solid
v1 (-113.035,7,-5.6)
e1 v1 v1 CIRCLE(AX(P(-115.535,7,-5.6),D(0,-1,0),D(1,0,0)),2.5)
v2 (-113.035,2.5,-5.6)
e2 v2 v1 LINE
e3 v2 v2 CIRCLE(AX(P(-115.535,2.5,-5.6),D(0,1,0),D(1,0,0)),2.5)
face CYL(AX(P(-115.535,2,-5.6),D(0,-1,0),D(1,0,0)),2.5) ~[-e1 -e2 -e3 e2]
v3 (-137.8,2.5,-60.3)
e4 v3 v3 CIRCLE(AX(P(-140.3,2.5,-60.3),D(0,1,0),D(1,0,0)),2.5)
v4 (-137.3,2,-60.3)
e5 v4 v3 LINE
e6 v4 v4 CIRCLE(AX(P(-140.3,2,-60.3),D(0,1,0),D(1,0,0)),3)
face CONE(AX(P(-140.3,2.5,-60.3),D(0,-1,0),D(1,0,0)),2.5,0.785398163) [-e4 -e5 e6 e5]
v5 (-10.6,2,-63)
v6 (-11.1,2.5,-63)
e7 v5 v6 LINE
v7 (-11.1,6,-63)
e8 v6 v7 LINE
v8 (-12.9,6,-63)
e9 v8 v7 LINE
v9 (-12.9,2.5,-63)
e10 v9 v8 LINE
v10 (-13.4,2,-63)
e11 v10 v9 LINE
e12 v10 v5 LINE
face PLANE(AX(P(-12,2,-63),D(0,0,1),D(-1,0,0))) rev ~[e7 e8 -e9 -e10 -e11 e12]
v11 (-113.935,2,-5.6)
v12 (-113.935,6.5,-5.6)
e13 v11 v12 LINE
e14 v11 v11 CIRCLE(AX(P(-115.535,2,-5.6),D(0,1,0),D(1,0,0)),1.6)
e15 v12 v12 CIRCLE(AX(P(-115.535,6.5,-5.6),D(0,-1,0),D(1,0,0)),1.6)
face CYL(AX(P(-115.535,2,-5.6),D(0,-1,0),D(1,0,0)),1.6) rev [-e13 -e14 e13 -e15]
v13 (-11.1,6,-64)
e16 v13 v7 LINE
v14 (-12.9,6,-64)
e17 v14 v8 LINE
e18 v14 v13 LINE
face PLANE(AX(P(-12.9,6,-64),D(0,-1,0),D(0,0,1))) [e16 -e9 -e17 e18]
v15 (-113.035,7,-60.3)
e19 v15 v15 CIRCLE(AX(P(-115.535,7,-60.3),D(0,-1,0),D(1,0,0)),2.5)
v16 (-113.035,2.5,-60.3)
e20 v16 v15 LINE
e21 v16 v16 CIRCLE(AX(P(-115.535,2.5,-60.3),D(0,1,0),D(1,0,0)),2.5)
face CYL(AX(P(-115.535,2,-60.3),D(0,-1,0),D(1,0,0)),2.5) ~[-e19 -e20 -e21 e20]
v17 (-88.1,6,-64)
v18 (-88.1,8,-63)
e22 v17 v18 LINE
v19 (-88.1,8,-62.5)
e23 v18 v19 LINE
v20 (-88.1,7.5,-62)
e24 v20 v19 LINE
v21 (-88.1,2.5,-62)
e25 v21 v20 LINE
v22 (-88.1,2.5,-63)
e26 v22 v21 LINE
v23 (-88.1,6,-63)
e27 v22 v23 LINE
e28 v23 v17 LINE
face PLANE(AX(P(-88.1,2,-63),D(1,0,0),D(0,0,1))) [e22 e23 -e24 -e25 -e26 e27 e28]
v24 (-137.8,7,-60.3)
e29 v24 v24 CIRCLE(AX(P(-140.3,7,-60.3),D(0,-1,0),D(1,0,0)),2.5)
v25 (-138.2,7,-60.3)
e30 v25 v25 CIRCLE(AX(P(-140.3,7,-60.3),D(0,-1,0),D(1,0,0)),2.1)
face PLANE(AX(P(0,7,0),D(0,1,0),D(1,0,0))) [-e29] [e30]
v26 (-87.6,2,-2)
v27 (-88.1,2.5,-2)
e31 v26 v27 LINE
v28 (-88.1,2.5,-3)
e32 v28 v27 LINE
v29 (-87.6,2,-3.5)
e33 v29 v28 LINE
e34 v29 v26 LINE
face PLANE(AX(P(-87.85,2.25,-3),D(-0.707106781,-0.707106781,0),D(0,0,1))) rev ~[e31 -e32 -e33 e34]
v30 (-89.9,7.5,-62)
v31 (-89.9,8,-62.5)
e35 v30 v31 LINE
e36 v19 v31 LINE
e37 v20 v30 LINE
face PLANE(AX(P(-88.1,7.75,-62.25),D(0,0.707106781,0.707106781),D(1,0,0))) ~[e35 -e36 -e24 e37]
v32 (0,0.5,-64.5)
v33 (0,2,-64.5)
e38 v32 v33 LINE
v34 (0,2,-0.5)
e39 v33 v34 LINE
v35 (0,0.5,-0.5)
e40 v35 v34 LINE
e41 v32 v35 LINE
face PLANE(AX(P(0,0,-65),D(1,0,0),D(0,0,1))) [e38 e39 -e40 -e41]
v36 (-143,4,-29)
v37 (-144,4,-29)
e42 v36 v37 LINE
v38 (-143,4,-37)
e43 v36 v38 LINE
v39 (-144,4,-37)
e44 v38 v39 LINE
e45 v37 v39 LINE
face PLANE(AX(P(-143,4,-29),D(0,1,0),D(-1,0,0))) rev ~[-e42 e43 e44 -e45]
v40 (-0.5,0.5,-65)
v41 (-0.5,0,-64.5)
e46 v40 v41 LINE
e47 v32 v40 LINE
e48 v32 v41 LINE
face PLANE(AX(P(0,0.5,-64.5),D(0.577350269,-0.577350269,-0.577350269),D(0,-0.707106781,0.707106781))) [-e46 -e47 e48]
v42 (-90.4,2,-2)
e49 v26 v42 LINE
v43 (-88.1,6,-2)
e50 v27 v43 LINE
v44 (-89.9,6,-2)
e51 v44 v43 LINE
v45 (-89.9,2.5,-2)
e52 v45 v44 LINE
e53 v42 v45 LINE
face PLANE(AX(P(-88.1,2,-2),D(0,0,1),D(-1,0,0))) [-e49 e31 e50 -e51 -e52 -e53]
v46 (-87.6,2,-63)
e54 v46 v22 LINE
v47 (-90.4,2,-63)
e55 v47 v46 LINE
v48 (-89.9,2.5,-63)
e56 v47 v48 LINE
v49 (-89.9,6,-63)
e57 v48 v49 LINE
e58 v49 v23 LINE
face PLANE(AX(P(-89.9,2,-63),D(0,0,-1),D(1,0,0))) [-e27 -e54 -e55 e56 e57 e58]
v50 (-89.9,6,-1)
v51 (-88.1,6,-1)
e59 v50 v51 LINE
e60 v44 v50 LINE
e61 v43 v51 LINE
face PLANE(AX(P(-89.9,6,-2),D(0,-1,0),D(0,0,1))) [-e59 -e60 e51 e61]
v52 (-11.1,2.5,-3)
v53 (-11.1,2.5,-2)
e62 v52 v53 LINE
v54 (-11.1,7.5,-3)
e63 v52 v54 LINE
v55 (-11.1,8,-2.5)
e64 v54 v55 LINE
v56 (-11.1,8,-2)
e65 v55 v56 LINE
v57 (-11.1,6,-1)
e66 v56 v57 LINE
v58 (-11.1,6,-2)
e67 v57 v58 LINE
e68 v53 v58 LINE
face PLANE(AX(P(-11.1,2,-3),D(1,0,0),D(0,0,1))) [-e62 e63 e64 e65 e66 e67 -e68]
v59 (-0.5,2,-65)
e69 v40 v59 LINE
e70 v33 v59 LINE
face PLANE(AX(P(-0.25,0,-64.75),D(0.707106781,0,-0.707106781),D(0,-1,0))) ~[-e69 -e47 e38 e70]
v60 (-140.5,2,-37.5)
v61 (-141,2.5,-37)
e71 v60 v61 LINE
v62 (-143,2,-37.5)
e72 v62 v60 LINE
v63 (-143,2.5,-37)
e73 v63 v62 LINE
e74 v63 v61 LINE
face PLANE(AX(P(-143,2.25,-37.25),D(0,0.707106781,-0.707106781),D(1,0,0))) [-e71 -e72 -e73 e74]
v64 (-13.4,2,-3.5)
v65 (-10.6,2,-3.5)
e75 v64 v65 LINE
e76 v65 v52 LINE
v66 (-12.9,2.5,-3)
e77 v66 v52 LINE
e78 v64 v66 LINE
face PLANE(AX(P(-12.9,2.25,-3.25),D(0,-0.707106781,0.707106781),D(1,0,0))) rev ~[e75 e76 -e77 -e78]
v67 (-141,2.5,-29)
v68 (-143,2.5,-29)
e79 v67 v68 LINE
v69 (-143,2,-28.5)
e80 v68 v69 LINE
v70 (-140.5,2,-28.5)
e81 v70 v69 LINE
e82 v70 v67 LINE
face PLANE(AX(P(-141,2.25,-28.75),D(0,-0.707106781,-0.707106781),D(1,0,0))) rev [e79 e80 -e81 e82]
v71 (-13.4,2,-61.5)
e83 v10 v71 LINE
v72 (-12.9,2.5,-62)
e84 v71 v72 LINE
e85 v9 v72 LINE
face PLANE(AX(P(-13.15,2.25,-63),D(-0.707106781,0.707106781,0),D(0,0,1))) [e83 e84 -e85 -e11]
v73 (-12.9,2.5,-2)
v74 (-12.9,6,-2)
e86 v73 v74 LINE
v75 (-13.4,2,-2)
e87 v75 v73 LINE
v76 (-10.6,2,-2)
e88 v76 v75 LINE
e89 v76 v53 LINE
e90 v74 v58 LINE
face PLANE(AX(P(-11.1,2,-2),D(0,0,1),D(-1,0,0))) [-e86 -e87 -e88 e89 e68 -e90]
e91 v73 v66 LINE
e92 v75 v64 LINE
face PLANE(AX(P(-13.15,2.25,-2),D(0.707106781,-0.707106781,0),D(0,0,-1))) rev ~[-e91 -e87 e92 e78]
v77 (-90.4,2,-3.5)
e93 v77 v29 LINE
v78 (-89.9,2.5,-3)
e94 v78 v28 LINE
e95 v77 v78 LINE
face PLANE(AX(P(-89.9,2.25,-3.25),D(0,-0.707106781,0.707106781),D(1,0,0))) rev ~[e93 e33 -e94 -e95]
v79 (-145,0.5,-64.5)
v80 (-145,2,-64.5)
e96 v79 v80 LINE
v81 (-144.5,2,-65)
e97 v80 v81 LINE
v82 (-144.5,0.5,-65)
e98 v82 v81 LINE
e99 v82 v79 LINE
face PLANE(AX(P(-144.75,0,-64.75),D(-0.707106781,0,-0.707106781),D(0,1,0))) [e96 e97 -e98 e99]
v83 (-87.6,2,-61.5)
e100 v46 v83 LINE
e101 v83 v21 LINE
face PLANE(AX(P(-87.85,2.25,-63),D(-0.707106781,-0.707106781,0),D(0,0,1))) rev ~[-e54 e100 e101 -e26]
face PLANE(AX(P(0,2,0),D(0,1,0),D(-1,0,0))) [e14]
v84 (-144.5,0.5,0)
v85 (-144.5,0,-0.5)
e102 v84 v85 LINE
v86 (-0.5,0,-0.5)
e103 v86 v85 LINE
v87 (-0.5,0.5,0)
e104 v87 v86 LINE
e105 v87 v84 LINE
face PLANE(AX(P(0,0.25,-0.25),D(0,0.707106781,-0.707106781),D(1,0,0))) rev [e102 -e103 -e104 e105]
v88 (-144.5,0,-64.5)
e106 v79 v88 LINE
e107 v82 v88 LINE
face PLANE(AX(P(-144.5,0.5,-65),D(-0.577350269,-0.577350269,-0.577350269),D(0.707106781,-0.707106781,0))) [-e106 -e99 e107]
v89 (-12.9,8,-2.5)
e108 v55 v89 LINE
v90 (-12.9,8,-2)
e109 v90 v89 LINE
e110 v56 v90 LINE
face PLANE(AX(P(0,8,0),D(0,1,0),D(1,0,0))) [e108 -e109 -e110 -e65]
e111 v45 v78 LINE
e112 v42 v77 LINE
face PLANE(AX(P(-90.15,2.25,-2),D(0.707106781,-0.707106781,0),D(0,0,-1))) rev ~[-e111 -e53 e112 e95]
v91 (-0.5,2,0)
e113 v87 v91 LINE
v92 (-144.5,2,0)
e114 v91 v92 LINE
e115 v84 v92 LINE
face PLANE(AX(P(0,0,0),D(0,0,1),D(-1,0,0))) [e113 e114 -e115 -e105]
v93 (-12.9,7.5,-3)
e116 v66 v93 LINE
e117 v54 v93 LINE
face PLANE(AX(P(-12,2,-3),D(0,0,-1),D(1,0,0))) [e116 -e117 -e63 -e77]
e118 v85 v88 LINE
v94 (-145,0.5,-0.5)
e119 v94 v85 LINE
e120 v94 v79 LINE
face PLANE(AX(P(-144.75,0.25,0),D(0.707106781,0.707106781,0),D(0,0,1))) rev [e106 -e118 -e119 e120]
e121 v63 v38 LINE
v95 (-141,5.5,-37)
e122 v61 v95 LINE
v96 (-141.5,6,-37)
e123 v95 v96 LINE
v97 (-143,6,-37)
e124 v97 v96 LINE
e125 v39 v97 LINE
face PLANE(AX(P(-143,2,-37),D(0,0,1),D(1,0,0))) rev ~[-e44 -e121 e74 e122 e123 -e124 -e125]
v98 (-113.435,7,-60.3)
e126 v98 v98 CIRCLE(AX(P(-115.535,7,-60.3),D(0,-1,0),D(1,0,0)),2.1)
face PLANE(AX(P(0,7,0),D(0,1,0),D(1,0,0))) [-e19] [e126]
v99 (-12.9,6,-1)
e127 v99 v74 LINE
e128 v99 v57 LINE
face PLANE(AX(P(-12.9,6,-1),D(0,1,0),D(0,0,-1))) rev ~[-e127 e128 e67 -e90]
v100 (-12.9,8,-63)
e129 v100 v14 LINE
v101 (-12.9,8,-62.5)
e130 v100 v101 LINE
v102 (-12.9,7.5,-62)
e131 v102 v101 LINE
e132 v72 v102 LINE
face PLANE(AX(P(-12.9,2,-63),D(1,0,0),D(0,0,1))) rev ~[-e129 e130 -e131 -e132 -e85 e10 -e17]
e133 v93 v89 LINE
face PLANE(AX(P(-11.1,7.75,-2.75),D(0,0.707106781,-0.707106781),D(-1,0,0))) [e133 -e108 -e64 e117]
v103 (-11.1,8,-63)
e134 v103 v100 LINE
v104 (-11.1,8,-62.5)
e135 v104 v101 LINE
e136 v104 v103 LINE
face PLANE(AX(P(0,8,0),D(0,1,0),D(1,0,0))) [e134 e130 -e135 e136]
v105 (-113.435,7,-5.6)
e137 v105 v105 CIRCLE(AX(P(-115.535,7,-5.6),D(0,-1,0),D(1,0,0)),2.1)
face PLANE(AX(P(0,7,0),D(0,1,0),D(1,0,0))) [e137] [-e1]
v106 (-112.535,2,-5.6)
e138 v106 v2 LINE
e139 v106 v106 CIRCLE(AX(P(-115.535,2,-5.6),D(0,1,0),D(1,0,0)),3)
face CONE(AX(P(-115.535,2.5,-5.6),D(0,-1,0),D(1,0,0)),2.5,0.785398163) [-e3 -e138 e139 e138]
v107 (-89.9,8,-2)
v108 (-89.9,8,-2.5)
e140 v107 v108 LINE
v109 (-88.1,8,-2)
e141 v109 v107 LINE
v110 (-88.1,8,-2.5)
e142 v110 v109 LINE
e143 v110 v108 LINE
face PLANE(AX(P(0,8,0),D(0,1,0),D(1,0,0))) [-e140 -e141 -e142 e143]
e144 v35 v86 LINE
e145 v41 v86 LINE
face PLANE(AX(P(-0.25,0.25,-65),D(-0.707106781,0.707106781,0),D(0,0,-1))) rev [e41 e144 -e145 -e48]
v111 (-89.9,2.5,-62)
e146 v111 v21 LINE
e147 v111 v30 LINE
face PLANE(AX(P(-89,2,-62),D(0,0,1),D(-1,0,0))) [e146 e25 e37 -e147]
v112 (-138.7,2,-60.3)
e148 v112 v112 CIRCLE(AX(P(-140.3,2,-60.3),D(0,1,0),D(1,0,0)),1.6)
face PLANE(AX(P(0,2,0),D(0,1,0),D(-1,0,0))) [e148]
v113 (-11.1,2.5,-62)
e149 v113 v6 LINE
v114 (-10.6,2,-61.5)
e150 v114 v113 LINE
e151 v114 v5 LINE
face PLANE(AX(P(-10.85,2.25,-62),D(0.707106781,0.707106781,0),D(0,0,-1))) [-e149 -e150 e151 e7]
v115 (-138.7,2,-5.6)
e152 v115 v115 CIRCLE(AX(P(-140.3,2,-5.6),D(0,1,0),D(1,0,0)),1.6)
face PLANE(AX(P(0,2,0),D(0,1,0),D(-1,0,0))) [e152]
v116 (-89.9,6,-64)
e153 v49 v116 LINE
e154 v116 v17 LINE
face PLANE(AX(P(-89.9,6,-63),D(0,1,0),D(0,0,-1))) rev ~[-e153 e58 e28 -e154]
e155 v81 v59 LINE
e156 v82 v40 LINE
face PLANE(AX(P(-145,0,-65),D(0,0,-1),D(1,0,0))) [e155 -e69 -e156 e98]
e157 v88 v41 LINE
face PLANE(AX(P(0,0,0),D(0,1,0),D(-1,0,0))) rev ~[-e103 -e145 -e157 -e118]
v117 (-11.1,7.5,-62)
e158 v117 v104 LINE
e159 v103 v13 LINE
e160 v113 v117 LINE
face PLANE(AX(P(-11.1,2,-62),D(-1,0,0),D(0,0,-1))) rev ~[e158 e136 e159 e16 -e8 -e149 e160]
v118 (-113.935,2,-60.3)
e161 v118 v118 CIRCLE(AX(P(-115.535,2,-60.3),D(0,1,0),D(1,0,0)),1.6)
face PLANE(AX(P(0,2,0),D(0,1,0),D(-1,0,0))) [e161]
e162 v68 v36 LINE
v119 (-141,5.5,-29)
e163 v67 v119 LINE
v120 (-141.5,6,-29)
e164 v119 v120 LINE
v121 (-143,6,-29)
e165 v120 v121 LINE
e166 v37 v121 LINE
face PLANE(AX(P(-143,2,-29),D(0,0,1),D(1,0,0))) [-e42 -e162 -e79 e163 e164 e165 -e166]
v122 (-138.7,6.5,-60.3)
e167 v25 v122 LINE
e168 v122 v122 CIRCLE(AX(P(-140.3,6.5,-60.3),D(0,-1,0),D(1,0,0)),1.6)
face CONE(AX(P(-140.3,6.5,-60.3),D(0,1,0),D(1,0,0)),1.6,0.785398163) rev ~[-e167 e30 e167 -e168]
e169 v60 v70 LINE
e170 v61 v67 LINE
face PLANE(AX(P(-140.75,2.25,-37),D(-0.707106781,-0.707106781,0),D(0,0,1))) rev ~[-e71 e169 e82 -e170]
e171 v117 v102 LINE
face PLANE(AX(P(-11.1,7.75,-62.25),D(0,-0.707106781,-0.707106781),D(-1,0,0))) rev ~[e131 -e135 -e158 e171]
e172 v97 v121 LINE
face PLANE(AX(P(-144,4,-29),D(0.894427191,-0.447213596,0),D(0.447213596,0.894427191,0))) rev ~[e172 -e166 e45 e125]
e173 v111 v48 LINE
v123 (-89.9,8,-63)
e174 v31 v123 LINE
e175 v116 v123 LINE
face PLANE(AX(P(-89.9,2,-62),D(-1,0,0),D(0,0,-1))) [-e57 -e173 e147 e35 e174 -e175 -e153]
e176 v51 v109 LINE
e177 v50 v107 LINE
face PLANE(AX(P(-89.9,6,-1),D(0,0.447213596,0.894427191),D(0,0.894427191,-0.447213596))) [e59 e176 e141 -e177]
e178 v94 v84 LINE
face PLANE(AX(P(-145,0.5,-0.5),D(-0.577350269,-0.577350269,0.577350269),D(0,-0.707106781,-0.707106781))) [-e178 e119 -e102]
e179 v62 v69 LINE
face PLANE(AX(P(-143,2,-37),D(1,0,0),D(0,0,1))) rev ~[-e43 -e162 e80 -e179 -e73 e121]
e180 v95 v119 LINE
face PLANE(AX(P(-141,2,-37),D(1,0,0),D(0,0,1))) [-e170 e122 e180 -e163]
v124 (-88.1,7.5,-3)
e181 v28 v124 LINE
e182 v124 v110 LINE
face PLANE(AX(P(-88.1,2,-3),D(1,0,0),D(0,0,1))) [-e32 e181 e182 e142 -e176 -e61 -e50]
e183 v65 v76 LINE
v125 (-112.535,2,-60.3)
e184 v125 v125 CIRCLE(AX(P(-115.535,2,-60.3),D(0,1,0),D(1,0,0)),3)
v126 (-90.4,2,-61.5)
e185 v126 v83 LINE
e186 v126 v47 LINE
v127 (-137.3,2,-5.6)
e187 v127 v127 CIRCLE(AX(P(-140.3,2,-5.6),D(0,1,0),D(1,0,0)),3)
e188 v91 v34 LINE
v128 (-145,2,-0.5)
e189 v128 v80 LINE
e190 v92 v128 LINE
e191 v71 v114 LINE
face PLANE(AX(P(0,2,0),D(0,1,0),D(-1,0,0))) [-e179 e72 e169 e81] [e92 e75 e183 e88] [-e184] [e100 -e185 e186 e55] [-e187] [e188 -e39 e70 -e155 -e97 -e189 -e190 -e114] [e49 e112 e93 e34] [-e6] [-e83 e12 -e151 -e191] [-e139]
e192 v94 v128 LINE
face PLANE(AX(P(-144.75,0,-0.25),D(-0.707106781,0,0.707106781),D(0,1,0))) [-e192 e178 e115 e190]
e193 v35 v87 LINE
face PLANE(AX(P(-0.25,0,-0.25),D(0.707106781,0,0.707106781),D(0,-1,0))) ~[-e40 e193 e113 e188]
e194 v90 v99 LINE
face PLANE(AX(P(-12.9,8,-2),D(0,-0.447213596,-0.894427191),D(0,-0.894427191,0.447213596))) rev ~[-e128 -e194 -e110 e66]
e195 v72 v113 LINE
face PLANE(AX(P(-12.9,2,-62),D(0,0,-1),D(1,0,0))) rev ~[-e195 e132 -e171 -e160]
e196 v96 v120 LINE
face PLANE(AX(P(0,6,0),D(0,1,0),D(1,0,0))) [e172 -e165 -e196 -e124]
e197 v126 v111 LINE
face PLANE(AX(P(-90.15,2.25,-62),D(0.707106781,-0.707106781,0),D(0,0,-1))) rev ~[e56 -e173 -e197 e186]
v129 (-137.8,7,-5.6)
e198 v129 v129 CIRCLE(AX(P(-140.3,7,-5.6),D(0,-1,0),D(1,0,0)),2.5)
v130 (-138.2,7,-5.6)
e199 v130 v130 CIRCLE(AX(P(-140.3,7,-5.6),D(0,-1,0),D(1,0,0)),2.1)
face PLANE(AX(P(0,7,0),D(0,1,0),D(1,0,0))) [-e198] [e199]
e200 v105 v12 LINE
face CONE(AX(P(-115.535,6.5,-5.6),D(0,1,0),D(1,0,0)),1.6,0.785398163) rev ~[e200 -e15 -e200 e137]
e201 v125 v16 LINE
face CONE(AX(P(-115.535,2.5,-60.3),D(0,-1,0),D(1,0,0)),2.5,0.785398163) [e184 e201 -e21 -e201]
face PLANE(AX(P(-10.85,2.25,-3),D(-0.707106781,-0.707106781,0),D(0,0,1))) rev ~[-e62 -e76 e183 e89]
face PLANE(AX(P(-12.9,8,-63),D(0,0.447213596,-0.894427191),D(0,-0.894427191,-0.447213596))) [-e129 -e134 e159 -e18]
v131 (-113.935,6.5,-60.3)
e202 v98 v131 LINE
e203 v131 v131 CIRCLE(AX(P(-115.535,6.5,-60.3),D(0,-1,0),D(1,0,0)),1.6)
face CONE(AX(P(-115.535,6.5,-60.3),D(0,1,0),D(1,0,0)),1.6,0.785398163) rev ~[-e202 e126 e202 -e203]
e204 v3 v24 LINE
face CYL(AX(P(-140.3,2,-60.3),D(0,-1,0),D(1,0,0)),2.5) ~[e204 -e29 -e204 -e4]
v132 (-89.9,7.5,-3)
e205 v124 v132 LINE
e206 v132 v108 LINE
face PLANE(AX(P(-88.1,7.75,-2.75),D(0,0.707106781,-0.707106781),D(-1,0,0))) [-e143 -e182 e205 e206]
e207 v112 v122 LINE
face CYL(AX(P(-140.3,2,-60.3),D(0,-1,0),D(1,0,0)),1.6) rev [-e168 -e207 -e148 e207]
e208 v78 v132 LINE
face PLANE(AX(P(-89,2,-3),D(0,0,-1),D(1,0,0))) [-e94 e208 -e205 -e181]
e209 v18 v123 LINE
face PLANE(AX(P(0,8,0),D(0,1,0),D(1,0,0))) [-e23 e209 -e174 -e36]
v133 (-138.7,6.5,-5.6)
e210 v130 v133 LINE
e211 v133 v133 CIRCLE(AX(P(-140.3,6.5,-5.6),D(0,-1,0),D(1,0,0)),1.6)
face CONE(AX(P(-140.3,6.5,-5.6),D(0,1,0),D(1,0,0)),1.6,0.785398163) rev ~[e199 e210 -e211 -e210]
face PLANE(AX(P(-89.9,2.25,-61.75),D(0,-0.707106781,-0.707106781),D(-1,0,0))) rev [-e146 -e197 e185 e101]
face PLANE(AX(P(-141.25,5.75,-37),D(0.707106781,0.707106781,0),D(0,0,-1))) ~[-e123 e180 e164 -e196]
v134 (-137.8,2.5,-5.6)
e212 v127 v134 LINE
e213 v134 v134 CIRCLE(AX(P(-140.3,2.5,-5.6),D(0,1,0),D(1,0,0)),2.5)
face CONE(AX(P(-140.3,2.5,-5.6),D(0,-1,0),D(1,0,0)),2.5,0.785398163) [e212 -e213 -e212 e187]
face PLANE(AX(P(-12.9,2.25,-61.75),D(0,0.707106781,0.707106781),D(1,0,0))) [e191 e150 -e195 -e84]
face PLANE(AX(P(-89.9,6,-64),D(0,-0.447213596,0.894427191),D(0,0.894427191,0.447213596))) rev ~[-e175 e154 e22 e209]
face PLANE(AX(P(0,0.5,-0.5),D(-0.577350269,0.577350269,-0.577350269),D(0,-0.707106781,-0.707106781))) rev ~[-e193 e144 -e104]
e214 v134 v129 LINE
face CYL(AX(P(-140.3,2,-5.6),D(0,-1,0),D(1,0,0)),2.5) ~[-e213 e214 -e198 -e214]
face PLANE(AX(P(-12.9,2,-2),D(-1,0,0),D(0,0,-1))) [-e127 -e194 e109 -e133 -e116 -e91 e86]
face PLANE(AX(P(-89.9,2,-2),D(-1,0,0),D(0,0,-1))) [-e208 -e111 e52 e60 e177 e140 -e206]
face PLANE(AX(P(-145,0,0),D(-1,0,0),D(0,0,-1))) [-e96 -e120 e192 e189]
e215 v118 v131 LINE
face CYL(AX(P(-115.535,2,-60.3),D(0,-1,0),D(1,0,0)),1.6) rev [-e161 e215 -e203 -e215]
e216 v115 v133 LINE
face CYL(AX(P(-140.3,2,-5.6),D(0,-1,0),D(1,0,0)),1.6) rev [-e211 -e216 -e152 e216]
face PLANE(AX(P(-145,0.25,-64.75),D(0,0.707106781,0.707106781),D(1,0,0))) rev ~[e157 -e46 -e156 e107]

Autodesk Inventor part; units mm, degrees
ref_plane "YZ Plane" through (0, 0, 0) normal (1, 0, 0) x (0, 1, 0)
ref_plane "XZ Plane" through (0, 0, 0) normal (0, 1, 0) x (-1, 0, 0)
ref_plane "XY Plane" through (0, 0, 0) normal (0, 0, 1) x (1, 0, 0)
sketch "草图1" plane through (0, 0, 0) normal (0, 1, 0) x (-1, 0, 0)
  line L0 (0, 0) -> (145, 0)
  line L1 (145, 0) -> (145, -65)
  line L2 (145, -65) -> (0, -65)
  line L3 (0, -65) -> (0, 0)
  dimension "d0" = 145
  dimension "d1" = 65
extrude "拉伸1" add sketch "草图1" along normal blind 2
sketch "草图2" plane through (0, 2, 0) normal (0, 1, 0) x (1, 0, 0)
  line L0 (-145, 0) -> (0, 0) projected
  line L1 (0, 0) -> (0, 2)
  line L2 (0, 0) -> (0, 65) projected
  line L3 (0, 2) -> (-12, 2)
  line L4 (-12, 2) -> (-12, 63)
  line L5 (-12, 2) -> (-89, 2)
  line L6 (-89, 2) -> (-89, 63)
  line L7 (-12, 2) -> (-12.9, 2)
  line L8 (-12.9, 2) -> (-12.9, 3)
  line L9 (-12.9, 3) -> (-11.1, 3)
  line L10 (-11.1, 3) -> (-11.1, 2)
  line L11 (-12, 63) -> (-12.9, 63)
  line L12 (-12.9, 63) -> (-12.9, 62)
  line L13 (-12.9, 62) -> (-11.1, 62)
  line L14 (-11.1, 62) -> (-11.1, 63)
  line L15 (-11.1, 63) -> (-12, 63)
  line L16 (-89, 63) -> (-88.1, 63)
  line L17 (-88.1, 63) -> (-88.1, 62)
  line L18 (-88.1, 62) -> (-89.9, 62)
  line L19 (-89.9, 62) -> (-89.9, 63)
  line L20 (-89.9, 63) -> (-88.1, 63)
  line L21 (-89, 2) -> (-89.9, 2)
  line L22 (-89.9, 2) -> (-89.9, 3)
  line L23 (-89.9, 3) -> (-88.1, 3)
  line L24 (-88.1, 3) -> (-88.1, 2)
  dimension "d4" = 2
  dimension "d5" = 12
  dimension "d6" = 61
  dimension "d7" = 77
  dimension "d8" = 0.9
  dimension "d9" = 1
  dimension "d10" = 1.8
  dimension "d11" = 1
  dimension "d12" = 0.9
  dimension "d13" = 1.8
extrude "拉伸2" add sketch "草图2" along normal blind 6
sketch "草图3" plane through (-89.9, 2, -3) normal (-1, 0, 0) x (0, 0, 1)
  line L0 (1, 0) -> (1, 6) projected
  line L1 (1, 6) -> (1, 4)
  line L2 (1, 4) -> (2, 4)
  line L3 (2, 4) -> (1, 6)
  line L4 (-60, 6) -> (-59, 6) projected
  line L5 (-60, 6) -> (-60, 4)
  line L6 (-60, 0) -> (-60, 6) projected
  line L7 (-60, 4) -> (-61, 4)
  line L8 (-61, 4) -> (-60, 6)
  point P0 (3, -2)
  dimension "d16" = 2
  dimension "d17" = 1
  dimension "d18" = 1
extrude "拉伸3" add sketch "草图3" against normal blind 1.8
sketch "草图4" plane through (-12.9, 2, -3) normal (-1, 0, 0) x (0, 0, 1)
  line L0 (1, 6) -> (2, 4) projected
  line L1 (2, 4) -> (1, 4) projected
  line L2 (1, 6) -> (2, 4)
  line L3 (2, 4) -> (1, 4)
  line L4 (1, 0) -> (1, 6) projected
  line L5 (1, 4) -> (1, 6)
  line L6 (-59, 6) -> (-60, 6) projected
  line L7 (-60, 6) -> (-60, 4)
  line L8 (-60, 0) -> (-60, 6) projected
  line L9 (-61, 4) -> (-60, 4) projected
  line L10 (-60, 6) -> (-61, 4) projected
  line L11 (-61, 4) -> (-60, 6)
  line L12 (-60, 0) -> (-60, 4) projected
  line L13 (-60, 6) -> (-60, 4)
  line L14 (-60, 4) -> (-61, 4)
  line L15 (1, 6) -> (0, 6) projected
  line L16 (1, 6) -> (1, 4)
  line L17 (1, 4) -> (2, 4)
  point P0 (3, -2)
extrude "拉伸4" add sketch "草图4" against normal blind 1.8
chamfer "倒角1" distance 0.5 angle 45 20 edges at (-72.5, 0, 0) (-145, 1, 0) (-145, 0, -32.5) (0, 1, 0) (-145, 1, -65) (-72.5, 0, -65) (0, 1, -65) (0, 0, -32.5) (-89, 2, -62) (-12, 2, -62) (-11.1, 2, -62.5) (-88.1, 2, -62.5) (-11.1, 2, -2.5) (-88.1, 2, -2.5) (-12.9, 2, -62.5) (-89.9, 2, -62.5) (-89.9, 2, -2.5) (-12.9, 2, -2.5) (-12, 2, -3) (-89, 2, -3)
sketch "草图5" plane through (0, 2, 0) normal (0, 1, 0) x (1, 0, 0)
  line L0 (-145, 64.5) -> (-145, 0.5) projected
  line L1 (-145, 64.5) -> (-143, 64.5)
  line L2 (-0.5, 64.5) -> (-144.5, 64.5) projected
  line L3 (-0.5, 65) -> (-144.5, 65) projected
  line L4 (-143, 65) -> (-115, 65)
  line L5 (-143, 65) -> (-143, 37)
  line L6 (-143, 37) -> (-143, 29)
  line L7 (-143, 37) -> (-141, 37)
  line L8 (-141, 37) -> (-141, 29)
  line L9 (-141, 29) -> (-143, 29)
  point P0 (0, 0)
  dimension "d26" = 2
  dimension "d27" = 28
  dimension "d28" = 28
  dimension "d29" = 8
  dimension "d30" = 2
extrude "拉伸5" add sketch "草图5" along normal blind 4
sketch "草图6" plane through (-143, 2, -29) normal (0, 0, 1) x (1, 0, 0)
  line L0 (0, 4) -> (2, 4) projected
  line L1 (0, 4) -> (0, 2)
  line L2 (0, 0) -> (0, 4) projected
  line L3 (0, 2) -> (-1, 2)
  line L4 (-1, 2) -> (0, 4)
  point P0 (143, -2)
  dimension "d33" = 2
  dimension "d34" = 1
extrude "拉伸6" add sketch "草图6" against normal blind 8
chamfer "倒角2" distance 0.5 angle 45 3 edges at (-141, 2, -33) (-142, 2, -29) (-142, 2, -37)
sketch "草图7" plane through (0, 2, 0) normal (0, 1, 0) x (1, 0, 0)
  line L0 (-144.5, 65) -> (-145, 64.5) projected
  line L1 (-145, 64.5) -> (-140.3, 64.5)
  line L2 (-0.5, 64.5) -> (-144.5, 64.5) projected
  line L3 (-140.3, 64.5) -> (-140.3, 65)
  line L4 (-0.5, 65) -> (-144.5, 65) projected
  line L5 (-140.3, 65) -> (-140.3, 60.3)
  line L6 (-140.3, 60.3) -> (-140.3, 5.6)
  line L7 (-140.3, 5.6) -> (-115.535, 5.6)
  line L8 (-115.535, 5.6) -> (-115.535, 60.3)
  line L9 (-115.535, 60.3) -> (-140.3, 60.3)
  circle A0 centre (-140.3, 60.3) radius 1.6
  circle A1 centre (-140.3, 60.3) radius 2.5
  circle A2 centre (-115.535, 60.3) radius 1.6
  circle A3 centre (-115.535, 60.3) radius 2.5
  circle A4 centre (-115.535, 5.6) radius 1.6
  circle A5 centre (-115.535, 5.6) radius 2.5
  circle A6 centre (-140.3, 5.6) radius 1.6
  circle A7 centre (-140.3, 5.6) radius 2.5
  point P0 (0, 0)
  dimension "d40" = 4.7
  dimension "d41" = 4.7
  dimension "d44" = 54.7
  dimension "d45" = 24.765
  dimension "d46" = 3.2
  dimension "d47" = 5
  dimension "d48" = 3.2
  dimension "d49" = 5
  dimension "d50" = 3.2
  dimension "d51" = 5
  dimension "d52" = 3.2
  dimension "d53" = 5
extrude "拉伸7" add sketch "草图7" along normal blind 5 contours A1 L9 A0 L5 | L5 A0 L6 A1 | A1 L6 A0 L9 | A3 L8 A2 L9 | L9 A2 L8 A3 | A7 L7 A6 L6 | L6 A6 L7 A7 | A5 L7 A4 L8 | L8 A4 L7 A5
chamfer "倒角3" distance 0.5 angle 45 13 edges at (-142.8, 2, -60.3) (-118.035, 2, -60.3) (-142.8, 2, -5.6) (-118.035, 2, -5.6) (-141.9, 7, -5.6) (-117.135, 7, -5.6) (-141.9, 7, -60.3) (-117.135, 7, -60.3) (-141, 6, -33) (-89, 8, -62) (-12, 8, -62) (-12, 8, -3) (-89, 8, -3)
properties part number "BOT" material "酚醛树脂"
